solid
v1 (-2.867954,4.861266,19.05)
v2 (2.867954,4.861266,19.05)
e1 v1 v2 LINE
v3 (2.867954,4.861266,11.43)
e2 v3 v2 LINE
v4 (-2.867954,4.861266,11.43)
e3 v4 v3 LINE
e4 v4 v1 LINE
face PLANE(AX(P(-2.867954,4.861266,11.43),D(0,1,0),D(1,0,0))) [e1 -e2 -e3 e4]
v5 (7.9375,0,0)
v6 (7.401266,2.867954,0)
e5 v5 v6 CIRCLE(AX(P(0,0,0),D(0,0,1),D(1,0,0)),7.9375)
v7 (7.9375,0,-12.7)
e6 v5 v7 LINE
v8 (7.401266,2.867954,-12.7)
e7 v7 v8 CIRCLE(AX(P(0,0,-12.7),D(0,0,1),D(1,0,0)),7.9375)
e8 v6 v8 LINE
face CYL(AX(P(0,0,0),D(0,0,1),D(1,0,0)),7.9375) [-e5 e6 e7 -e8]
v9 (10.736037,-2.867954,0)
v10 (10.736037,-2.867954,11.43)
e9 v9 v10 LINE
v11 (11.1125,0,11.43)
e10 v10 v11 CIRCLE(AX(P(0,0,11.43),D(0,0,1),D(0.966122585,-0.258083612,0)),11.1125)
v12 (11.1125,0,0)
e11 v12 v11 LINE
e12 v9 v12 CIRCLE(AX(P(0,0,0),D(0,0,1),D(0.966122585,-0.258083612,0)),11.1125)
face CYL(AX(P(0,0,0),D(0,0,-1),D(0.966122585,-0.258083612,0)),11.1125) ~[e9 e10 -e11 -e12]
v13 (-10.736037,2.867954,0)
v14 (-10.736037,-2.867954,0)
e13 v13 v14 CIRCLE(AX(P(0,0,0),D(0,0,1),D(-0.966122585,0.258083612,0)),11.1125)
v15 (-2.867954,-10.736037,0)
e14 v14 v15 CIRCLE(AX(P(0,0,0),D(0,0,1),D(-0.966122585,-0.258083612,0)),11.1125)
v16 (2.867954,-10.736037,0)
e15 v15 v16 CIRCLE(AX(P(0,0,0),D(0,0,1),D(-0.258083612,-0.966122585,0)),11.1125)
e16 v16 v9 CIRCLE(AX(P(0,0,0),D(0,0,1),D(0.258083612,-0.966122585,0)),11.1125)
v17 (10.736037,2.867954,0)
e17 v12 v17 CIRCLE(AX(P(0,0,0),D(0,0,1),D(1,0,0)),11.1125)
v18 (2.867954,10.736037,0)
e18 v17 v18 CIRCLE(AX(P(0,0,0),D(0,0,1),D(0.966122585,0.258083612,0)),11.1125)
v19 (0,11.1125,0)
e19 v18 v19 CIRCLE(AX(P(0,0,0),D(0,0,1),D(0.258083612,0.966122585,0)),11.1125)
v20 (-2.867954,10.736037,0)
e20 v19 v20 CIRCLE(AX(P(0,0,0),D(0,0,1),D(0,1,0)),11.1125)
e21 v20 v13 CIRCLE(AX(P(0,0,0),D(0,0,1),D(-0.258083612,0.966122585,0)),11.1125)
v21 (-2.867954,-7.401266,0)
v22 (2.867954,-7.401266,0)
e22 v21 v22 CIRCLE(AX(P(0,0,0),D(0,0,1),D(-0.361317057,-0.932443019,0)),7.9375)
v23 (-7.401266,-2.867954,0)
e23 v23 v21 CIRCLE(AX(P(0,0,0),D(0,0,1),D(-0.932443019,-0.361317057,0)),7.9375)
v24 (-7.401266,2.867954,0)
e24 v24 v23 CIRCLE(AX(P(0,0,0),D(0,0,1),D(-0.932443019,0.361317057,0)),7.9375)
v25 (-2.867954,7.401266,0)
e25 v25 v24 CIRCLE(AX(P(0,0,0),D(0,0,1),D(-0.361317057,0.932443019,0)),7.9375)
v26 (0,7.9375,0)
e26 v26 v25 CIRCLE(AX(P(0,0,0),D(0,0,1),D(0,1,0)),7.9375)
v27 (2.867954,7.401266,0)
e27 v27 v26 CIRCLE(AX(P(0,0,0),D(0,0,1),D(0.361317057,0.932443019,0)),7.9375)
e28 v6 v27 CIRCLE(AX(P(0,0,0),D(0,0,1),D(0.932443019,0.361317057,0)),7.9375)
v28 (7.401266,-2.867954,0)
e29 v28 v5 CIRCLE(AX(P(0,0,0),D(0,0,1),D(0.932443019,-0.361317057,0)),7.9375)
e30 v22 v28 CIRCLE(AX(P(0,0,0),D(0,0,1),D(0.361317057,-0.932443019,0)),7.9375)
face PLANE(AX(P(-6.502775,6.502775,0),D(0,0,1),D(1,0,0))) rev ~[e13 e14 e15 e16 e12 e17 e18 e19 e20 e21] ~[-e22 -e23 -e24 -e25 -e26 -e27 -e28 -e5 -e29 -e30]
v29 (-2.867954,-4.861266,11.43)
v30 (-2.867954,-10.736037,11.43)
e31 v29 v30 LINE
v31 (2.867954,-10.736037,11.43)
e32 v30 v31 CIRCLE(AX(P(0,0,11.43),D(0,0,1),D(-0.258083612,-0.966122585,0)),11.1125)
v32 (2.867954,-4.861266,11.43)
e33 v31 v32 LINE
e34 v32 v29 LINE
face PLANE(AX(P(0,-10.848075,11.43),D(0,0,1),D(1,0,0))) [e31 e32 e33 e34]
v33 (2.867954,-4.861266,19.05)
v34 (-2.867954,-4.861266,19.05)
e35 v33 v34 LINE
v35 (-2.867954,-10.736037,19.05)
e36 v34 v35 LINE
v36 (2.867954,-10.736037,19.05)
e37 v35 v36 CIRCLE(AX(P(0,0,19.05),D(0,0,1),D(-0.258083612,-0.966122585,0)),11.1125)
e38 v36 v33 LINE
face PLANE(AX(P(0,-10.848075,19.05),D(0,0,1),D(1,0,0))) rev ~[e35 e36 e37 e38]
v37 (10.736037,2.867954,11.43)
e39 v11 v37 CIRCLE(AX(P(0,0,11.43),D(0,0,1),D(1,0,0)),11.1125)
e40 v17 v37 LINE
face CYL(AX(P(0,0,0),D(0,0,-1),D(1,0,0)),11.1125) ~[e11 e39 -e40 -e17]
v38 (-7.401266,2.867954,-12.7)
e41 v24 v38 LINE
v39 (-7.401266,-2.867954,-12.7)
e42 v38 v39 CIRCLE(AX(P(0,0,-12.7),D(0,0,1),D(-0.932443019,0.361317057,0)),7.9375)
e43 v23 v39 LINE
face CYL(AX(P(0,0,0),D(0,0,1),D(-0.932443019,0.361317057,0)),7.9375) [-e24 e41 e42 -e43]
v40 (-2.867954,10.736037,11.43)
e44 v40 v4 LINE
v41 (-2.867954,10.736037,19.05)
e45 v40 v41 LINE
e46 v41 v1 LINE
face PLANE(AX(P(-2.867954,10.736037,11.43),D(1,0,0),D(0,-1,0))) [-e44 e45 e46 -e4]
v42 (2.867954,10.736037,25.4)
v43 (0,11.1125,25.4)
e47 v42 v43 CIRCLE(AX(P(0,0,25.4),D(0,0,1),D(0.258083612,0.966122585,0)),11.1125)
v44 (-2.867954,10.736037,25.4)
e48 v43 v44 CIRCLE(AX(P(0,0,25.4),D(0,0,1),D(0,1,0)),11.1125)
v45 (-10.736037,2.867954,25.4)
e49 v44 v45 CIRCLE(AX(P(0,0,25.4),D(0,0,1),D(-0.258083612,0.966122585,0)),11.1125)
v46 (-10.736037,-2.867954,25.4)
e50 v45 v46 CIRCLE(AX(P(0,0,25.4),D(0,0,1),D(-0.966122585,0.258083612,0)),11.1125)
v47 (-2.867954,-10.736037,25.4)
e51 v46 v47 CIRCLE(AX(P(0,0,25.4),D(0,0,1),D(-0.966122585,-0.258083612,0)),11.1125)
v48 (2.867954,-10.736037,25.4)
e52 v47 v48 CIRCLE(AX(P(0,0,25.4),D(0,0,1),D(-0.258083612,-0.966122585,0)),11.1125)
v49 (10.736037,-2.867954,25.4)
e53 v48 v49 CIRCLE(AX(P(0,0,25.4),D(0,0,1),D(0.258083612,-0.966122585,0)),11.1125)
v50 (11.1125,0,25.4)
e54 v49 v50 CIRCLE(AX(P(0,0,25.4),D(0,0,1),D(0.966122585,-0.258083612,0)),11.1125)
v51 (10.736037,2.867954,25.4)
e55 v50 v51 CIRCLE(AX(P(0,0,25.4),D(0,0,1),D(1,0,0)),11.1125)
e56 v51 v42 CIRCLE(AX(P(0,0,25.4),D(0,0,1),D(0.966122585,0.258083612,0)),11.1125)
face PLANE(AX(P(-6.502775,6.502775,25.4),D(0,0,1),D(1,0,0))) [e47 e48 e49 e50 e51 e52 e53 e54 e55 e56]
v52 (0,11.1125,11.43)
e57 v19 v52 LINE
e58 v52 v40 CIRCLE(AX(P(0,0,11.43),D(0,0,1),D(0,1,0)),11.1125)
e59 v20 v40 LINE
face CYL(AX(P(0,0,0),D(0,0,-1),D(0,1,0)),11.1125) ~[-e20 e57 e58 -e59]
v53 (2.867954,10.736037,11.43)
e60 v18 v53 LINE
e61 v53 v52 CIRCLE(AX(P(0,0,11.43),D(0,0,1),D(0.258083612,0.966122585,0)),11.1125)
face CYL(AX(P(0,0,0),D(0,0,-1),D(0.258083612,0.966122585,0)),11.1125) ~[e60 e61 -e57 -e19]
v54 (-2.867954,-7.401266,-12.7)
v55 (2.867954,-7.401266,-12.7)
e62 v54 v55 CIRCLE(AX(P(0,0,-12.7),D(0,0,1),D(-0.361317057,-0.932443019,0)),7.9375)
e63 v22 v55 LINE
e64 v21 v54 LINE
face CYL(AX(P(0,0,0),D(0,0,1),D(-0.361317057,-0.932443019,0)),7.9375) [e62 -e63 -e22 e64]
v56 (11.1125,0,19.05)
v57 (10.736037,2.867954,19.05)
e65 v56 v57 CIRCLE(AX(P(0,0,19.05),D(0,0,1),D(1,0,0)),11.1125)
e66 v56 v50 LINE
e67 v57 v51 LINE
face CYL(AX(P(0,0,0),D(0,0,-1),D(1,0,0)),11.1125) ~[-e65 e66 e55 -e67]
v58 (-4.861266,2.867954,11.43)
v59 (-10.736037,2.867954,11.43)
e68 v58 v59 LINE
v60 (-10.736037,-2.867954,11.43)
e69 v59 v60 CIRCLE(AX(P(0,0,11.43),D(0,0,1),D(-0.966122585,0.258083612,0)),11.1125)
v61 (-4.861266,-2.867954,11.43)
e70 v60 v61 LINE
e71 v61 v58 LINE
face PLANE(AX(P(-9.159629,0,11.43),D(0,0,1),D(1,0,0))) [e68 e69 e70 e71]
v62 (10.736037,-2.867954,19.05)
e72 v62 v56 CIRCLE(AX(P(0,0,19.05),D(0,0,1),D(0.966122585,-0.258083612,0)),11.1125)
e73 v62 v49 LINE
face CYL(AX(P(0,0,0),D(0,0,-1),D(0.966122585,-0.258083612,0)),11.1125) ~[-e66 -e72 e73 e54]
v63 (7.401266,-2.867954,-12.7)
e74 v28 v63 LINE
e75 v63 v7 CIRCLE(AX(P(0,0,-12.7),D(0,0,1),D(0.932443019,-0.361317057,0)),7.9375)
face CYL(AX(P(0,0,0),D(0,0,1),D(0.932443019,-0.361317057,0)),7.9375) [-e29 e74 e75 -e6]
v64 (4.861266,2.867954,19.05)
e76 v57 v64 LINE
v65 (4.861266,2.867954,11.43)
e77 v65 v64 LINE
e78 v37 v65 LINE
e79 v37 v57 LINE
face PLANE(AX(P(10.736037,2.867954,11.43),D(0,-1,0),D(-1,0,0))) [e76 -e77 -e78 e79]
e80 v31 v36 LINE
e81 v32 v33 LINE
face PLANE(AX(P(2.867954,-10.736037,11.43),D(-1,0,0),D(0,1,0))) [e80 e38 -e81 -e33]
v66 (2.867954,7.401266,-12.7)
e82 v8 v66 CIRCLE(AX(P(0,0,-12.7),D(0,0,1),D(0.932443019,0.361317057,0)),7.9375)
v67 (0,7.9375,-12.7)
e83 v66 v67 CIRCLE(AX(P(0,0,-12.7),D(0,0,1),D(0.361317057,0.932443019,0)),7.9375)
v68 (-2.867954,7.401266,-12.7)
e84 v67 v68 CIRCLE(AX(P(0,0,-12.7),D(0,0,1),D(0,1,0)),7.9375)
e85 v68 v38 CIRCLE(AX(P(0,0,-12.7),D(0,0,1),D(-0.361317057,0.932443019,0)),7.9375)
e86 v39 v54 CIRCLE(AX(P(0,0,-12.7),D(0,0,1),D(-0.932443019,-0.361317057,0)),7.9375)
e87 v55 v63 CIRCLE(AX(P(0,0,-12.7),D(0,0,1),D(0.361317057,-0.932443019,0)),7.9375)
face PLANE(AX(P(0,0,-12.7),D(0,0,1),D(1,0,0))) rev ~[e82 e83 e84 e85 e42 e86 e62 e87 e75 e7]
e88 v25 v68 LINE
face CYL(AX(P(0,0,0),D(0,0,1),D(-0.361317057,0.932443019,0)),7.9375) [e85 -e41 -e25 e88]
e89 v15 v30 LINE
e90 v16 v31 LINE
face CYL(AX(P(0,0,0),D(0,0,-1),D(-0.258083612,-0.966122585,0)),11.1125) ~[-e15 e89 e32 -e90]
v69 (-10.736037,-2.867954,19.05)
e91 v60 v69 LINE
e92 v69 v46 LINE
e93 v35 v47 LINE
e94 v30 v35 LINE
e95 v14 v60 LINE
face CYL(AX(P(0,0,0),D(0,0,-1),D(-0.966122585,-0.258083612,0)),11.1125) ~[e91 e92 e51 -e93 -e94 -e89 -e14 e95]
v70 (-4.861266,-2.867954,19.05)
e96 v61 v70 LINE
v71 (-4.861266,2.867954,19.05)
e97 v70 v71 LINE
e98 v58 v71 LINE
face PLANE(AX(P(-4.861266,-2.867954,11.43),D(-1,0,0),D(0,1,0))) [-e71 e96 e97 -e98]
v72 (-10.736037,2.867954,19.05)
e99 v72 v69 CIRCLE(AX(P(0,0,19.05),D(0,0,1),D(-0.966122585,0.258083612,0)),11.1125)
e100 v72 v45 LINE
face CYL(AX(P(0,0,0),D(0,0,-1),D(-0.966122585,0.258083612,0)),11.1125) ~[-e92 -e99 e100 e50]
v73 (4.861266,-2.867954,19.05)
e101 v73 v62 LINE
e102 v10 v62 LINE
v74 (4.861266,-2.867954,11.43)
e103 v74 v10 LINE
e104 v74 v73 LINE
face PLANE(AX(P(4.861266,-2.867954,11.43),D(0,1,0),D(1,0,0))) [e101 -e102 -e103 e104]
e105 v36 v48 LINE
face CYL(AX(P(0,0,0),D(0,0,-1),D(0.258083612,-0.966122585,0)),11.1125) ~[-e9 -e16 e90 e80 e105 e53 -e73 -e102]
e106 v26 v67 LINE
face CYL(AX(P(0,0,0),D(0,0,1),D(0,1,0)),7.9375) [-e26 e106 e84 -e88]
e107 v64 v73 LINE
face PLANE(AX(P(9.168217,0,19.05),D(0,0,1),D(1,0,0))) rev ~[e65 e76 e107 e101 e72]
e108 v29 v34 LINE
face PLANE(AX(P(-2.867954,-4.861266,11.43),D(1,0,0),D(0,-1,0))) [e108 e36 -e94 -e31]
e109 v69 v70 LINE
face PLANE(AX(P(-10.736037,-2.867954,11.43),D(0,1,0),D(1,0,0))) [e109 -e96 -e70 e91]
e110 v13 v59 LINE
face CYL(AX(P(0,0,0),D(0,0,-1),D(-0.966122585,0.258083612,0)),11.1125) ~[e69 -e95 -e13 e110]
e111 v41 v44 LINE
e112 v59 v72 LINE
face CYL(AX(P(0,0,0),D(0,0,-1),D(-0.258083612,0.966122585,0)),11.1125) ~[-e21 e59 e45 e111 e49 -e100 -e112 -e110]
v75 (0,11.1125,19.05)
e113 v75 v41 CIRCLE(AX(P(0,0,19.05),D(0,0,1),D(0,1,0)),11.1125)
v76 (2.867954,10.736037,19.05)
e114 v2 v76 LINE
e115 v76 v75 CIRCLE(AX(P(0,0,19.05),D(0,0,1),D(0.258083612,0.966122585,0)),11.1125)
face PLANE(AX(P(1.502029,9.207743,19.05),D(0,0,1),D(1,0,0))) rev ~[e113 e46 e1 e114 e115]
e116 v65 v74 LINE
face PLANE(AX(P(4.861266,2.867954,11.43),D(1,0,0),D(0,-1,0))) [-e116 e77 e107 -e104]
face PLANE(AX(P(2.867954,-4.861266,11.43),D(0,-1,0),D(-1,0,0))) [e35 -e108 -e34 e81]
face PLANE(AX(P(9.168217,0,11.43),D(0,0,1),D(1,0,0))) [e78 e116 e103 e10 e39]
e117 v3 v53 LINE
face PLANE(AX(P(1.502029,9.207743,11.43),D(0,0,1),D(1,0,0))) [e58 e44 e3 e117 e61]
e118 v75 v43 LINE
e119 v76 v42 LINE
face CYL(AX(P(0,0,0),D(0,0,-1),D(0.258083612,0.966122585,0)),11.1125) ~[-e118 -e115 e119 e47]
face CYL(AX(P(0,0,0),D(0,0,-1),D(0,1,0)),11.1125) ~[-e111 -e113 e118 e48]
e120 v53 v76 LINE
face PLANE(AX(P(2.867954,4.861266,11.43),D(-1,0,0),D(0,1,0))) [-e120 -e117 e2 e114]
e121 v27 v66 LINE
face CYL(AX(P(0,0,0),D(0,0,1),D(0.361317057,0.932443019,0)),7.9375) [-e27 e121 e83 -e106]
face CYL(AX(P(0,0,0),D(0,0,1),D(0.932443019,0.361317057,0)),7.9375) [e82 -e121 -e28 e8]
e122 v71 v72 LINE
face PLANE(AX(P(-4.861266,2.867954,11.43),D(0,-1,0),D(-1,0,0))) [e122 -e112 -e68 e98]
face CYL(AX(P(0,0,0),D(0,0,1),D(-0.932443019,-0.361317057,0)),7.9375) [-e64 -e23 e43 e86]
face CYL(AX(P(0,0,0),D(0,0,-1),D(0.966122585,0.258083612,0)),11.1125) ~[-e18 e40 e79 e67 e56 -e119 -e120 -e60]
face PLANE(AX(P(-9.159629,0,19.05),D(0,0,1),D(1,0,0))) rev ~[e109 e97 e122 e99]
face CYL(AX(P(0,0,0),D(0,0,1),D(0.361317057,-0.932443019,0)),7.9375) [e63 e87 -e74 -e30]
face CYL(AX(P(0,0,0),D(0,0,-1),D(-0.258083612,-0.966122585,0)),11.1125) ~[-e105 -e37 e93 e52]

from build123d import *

# Parameters (mm, degrees)
F1_DEPTH = 25.4
F2_START = 11.43
F2_DEPTH = 7.62
F3_DEPTH = 12.7


with BuildPart() as f1:
    # F0 (on Top) → F1 (new body)
    with BuildSketch(Plane.XY):
        with BuildLine():
            ThreePointArc((-7.4012664662, 2.8679541395), (-5.6126600757, 5.6126600757), (-2.8679541395, 7.4012664662))
            Line((-2.8679541395, 7.4012664662), (-2.8679541395, 10.7360372253))
            ThreePointArc((-2.8679541395, 10.7360372253), (-7.8577241059, 7.8577241059), (-10.7360372253, 2.8679541395))
            Line((-10.7360372253, 2.8679541395), (-7.4012664662, 2.8679541395))
        make_face()
        with BuildLine():
            ThreePointArc((2.8679541395, 7.4012664662), (5.6126600757, 5.6126600757), (7.4012664662, 2.8679541395))
            Line((7.4012664662, 2.8679541395), (10.7360372253, 2.8679541395))
            ThreePointArc((10.7360372253, 2.8679541395), (7.8577241059, 7.8577241059), (2.8679541395, 10.7360372253))
            Line((2.8679541395, 10.7360372253), (2.8679541395, 7.4012664662))
        make_face()
        with BuildLine():
            Line((10.7360372253, -2.8679541395), (7.4012664662, -2.8679541395))
            ThreePointArc((7.4012664662, -2.8679541395), (5.6126600757, -5.6126600757), (2.8679541395, -7.4012664662))
            Line((2.8679541395, -7.4012664662), (2.8679541395, -10.7360372253))
            ThreePointArc((2.8679541395, -10.7360372253), (7.8577241059, -7.8577241059), (10.7360372253, -2.8679541395))
        make_face()
        with BuildLine():
            Line((-2.8679541395, -10.7360372253), (-2.8679541395, -7.4012664662))
            ThreePointArc((-2.8679541395, -7.4012664662), (-5.6126600757, -5.6126600757), (-7.4012664662, -2.8679541395))
            Line((-7.4012664662, -2.8679541395), (-10.7360372253, -2.8679541395))
            ThreePointArc((-10.7360372253, -2.8679541395), (-7.8577241059, -7.8577241059), (-2.8679541395, -10.7360372253))
        make_face()
        with BuildLine():
            ThreePointArc((-10.7360372253, 2.8679541395), (-11.1125, 0), (-10.7360372253, -2.8679541395))
            Line((-10.7360372253, -2.8679541395), (-10.7360372253, 2.8679541395))
        make_face()
        with BuildLine():
            Line((-10.7360372253, -2.8679541395), (-7.4012664662, -2.8679541395))
            ThreePointArc((-7.4012664662, -2.8679541395), (-7.9375, 0), (-7.4012664662, 2.8679541395))
            Line((-7.4012664662, 2.8679541395), (-10.7360372253, 2.8679541395))
            Line((-10.7360372253, 2.8679541395), (-10.7360372253, -2.8679541395))
        make_face()
        with BuildLine():
            ThreePointArc((-2.8679541395, 7.4012664662), (-1.458827213, 7.8022900108), (0, 7.9375))
            Line((0, 7.9375), (0, 10.7360372253))
            Line((0, 10.7360372253), (-2.8679541395, 10.7360372253))
            Line((-2.8679541395, 10.7360372253), (-2.8679541395, 7.4012664662))
        make_face()
        with BuildLine():
            ThreePointArc((0, 7.9375), (1.458827213, 7.8022900108), (2.8679541395, 7.4012664662))
            Line((2.8679541395, 7.4012664662), (2.8679541395, 10.7360372253))
            Line((2.8679541395, 10.7360372253), (0, 10.7360372253))
            Line((0, 10.7360372253), (0, 7.9375))
        make_face()
        with BuildLine():
            Line((0, 10.7360372253), (2.8679541395, 10.7360372253))
            ThreePointArc((2.8679541395, 10.7360372253), (1.4462784282, 11.0179823452), (0, 11.1125))
            Line((0, 11.1125), (0, 10.7360372253))
        make_face()
        with BuildLine():
            Line((-2.8679541395, 10.7360372253), (0, 10.7360372253))
            Line((0, 10.7360372253), (0, 11.1125))
            ThreePointArc((0, 11.1125), (-1.4462784282, 11.0179823452), (-2.8679541395, 10.7360372253))
        make_face()
        with BuildLine():
            ThreePointArc((7.4012664662, 2.8679541395), (7.8022900108, 1.458827213), (7.9375, 0))
            ThreePointArc((7.9375, 0), (7.8022900108, -1.458827213), (7.4012664662, -2.8679541395))
            Line((7.4012664662, -2.8679541395), (10.7360372253, -2.8679541395))
            Line((10.7360372253, -2.8679541395), (10.7360372253, 2.8679541395))
            Line((10.7360372253, 2.8679541395), (7.4012664662, 2.8679541395))
        make_face()
        with BuildLine():
            ThreePointArc((11.1125, 0), (11.0179823452, 1.4462784282), (10.7360372253, 2.8679541395))
            Line((10.7360372253, 2.8679541395), (10.7360372253, -2.8679541395))
            ThreePointArc((10.7360372253, -2.8679541395), (11.0179823452, -1.4462784282), (11.1125, 0))
        make_face()
        with BuildLine():
            Line((2.8679541395, -10.7360372253), (2.8679541395, -7.4012664662))
            ThreePointArc((2.8679541395, -7.4012664662), (0, -7.9375), (-2.8679541395, -7.4012664662))
            Line((-2.8679541395, -7.4012664662), (-2.8679541395, -10.7360372253))
            Line((-2.8679541395, -10.7360372253), (2.8679541395, -10.7360372253))
        make_face()
        with BuildLine():
            ThreePointArc((-2.8679541395, -10.7360372253), (0, -11.1125), (2.8679541395, -10.7360372253))
            Line((2.8679541395, -10.7360372253), (-2.8679541395, -10.7360372253))
        make_face()
        with BuildLine():
            Line((4.8612664662, 2.8679541395), (7.4012664662, 2.8679541395))
            ThreePointArc((7.4012664662, 2.8679541395), (5.6126600757, 5.6126600757), (2.8679541395, 7.4012664662))
            Line((2.8679541395, 7.4012664662), (2.8679541395, 4.8612664662))
            Line((2.8679541395, 4.8612664662), (0, 4.8612664662))
            Line((0, 4.8612664662), (-2.8679541395, 4.8612664662))
            Line((-2.8679541395, 4.8612664662), (-2.8679541395, 7.4012664662))
            ThreePointArc((-2.8679541395, 7.4012664662), (-5.6126600757, 5.6126600757), (-7.4012664662, 2.8679541395))
            Line((-7.4012664662, 2.8679541395), (-4.8612664662, 2.8679541395))
            Line((-4.8612664662, 2.8679541395), (-4.8612664662, -2.8679541395))
            Line((-4.8612664662, -2.8679541395), (-7.4012664662, -2.8679541395))
            ThreePointArc((-7.4012664662, -2.8679541395), (-5.6126600757, -5.6126600757), (-2.8679541395, -7.4012664662))
            Line((-2.8679541395, -7.4012664662), (-2.8679541395, -4.8612664662))
            Line((-2.8679541395, -4.8612664662), (2.8679541395, -4.8612664662))
            Line((2.8679541395, -4.8612664662), (2.8679541395, -7.4012664662))
            ThreePointArc((2.8679541395, -7.4012664662), (5.6126600757, -5.6126600757), (7.4012664662, -2.8679541395))
            Line((7.4012664662, -2.8679541395), (4.8612664662, -2.8679541395))
            Line((4.8612664662, -2.8679541395), (4.8612664662, 2.8679541395))
        make_face()
        with BuildLine():
            ThreePointArc((7.4012664662, -2.8679541395), (7.8022900108, -1.458827213), (7.9375, 0))
            ThreePointArc((7.9375, 0), (7.8022900108, 1.458827213), (7.4012664662, 2.8679541395))
            Line((7.4012664662, 2.8679541395), (4.8612664662, 2.8679541395))
            Line((4.8612664662, 2.8679541395), (4.8612664662, -2.8679541395))
            Line((4.8612664662, -2.8679541395), (7.4012664662, -2.8679541395))
        make_face()
        with BuildLine():
            Line((0, 4.8612664662), (0, 7.9375))
            ThreePointArc((0, 7.9375), (-1.458827213, 7.8022900108), (-2.8679541395, 7.4012664662))
            Line((-2.8679541395, 7.4012664662), (-2.8679541395, 4.8612664662))
            Line((-2.8679541395, 4.8612664662), (0, 4.8612664662))
        make_face()
        with BuildLine():
            ThreePointArc((-7.4012664662, 2.8679541395), (-7.9375, 0), (-7.4012664662, -2.8679541395))
            Line((-7.4012664662, -2.8679541395), (-4.8612664662, -2.8679541395))
            Line((-4.8612664662, -2.8679541395), (-4.8612664662, 2.8679541395))
            Line((-4.8612664662, 2.8679541395), (-7.4012664662, 2.8679541395))
        make_face()
        with BuildLine():
            Line((2.8679541395, 4.8612664662), (2.8679541395, 7.4012664662))
            ThreePointArc((2.8679541395, 7.4012664662), (1.458827213, 7.8022900108), (0, 7.9375))
            Line((0, 7.9375), (0, 4.8612664662))
            Line((0, 4.8612664662), (2.8679541395, 4.8612664662))
        make_face()
        with BuildLine():
            ThreePointArc((-2.8679541395, -7.4012664662), (0, -7.9375), (2.8679541395, -7.4012664662))
            Line((2.8679541395, -7.4012664662), (2.8679541395, -4.8612664662))
            Line((2.8679541395, -4.8612664662), (-2.8679541395, -4.8612664662))
            Line((-2.8679541395, -4.8612664662), (-2.8679541395, -7.4012664662))
        make_face()
    extrude(amount=F1_DEPTH)

    # F0 (on Top) → F2 (cut)
    with BuildSketch(Plane.XY.offset(F2_START)):
        with BuildLine():
            ThreePointArc((-2.8679541395, -10.7360372253), (0, -11.1125), (2.8679541395, -10.7360372253))
            Line((2.8679541395, -10.7360372253), (-2.8679541395, -10.7360372253))
        make_face()
        with BuildLine():
            Line((2.8679541395, -10.7360372253), (2.8679541395, -7.4012664662))
            ThreePointArc((2.8679541395, -7.4012664662), (0, -7.9375), (-2.8679541395, -7.4012664662))
            Line((-2.8679541395, -7.4012664662), (-2.8679541395, -10.7360372253))
            Line((-2.8679541395, -10.7360372253), (2.8679541395, -10.7360372253))
        make_face()
        with BuildLine():
            Line((-10.7360372253, -2.8679541395), (-7.4012664662, -2.8679541395))
            ThreePointArc((-7.4012664662, -2.8679541395), (-7.9375, 0), (-7.4012664662, 2.8679541395))
            Line((-7.4012664662, 2.8679541395), (-10.7360372253, 2.8679541395))
            Line((-10.7360372253, 2.8679541395), (-10.7360372253, -2.8679541395))
        make_face()
        with BuildLine():
            ThreePointArc((-10.7360372253, 2.8679541395), (-11.1125, 0), (-10.7360372253, -2.8679541395))
            Line((-10.7360372253, -2.8679541395), (-10.7360372253, 2.8679541395))
        make_face()
        with BuildLine():
            ThreePointArc((7.4012664662, 2.8679541395), (7.8022900108, 1.458827213), (7.9375, 0))
            ThreePointArc((7.9375, 0), (7.8022900108, -1.458827213), (7.4012664662, -2.8679541395))
            Line((7.4012664662, -2.8679541395), (10.7360372253, -2.8679541395))
            Line((10.7360372253, -2.8679541395), (10.7360372253, 2.8679541395))
            Line((10.7360372253, 2.8679541395), (7.4012664662, 2.8679541395))
        make_face()
        with BuildLine():
            ThreePointArc((11.1125, 0), (11.0179823452, 1.4462784282), (10.7360372253, 2.8679541395))
            Line((10.7360372253, 2.8679541395), (10.7360372253, -2.8679541395))
            ThreePointArc((10.7360372253, -2.8679541395), (11.0179823452, -1.4462784282), (11.1125, 0))
        make_face()
        with BuildLine():
            ThreePointArc((0, 7.9375), (1.458827213, 7.8022900108), (2.8679541395, 7.4012664662))
            Line((2.8679541395, 7.4012664662), (2.8679541395, 10.7360372253))
            Line((2.8679541395, 10.7360372253), (0, 10.7360372253))
            Line((0, 10.7360372253), (0, 7.9375))
        make_face()
        with BuildLine():
            Line((0, 10.7360372253), (2.8679541395, 10.7360372253))
            ThreePointArc((2.8679541395, 10.7360372253), (1.4462784282, 11.0179823452), (0, 11.1125))
            Line((0, 11.1125), (0, 10.7360372253))
        make_face()
        with BuildLine():
            ThreePointArc((-2.8679541395, 7.4012664662), (-1.458827213, 7.8022900108), (0, 7.9375))
            Line((0, 7.9375), (0, 10.7360372253))
            Line((0, 10.7360372253), (-2.8679541395, 10.7360372253))
            Line((-2.8679541395, 10.7360372253), (-2.8679541395, 7.4012664662))
        make_face()
        with BuildLine():
            Line((-2.8679541395, 10.7360372253), (0, 10.7360372253))
            Line((0, 10.7360372253), (0, 11.1125))
            ThreePointArc((0, 11.1125), (-1.4462784282, 11.0179823452), (-2.8679541395, 10.7360372253))
        make_face()
        with BuildLine():
            ThreePointArc((-2.8679541395, -7.4012664662), (0, -7.9375), (2.8679541395, -7.4012664662))
            Line((2.8679541395, -7.4012664662), (2.8679541395, -4.8612664662))
            Line((2.8679541395, -4.8612664662), (-2.8679541395, -4.8612664662))
            Line((-2.8679541395, -4.8612664662), (-2.8679541395, -7.4012664662))
        make_face()
        with BuildLine():
            ThreePointArc((-7.4012664662, 2.8679541395), (-7.9375, 0), (-7.4012664662, -2.8679541395))
            Line((-7.4012664662, -2.8679541395), (-4.8612664662, -2.8679541395))
            Line((-4.8612664662, -2.8679541395), (-4.8612664662, 2.8679541395))
            Line((-4.8612664662, 2.8679541395), (-7.4012664662, 2.8679541395))
        make_face()
        with BuildLine():
            Line((0, 4.8612664662), (0, 7.9375))
            ThreePointArc((0, 7.9375), (-1.458827213, 7.8022900108), (-2.8679541395, 7.4012664662))
            Line((-2.8679541395, 7.4012664662), (-2.8679541395, 4.8612664662))
            Line((-2.8679541395, 4.8612664662), (0, 4.8612664662))
        make_face()
        with BuildLine():
            Line((2.8679541395, 4.8612664662), (2.8679541395, 7.4012664662))
            ThreePointArc((2.8679541395, 7.4012664662), (1.458827213, 7.8022900108), (0, 7.9375))
            Line((0, 7.9375), (0, 4.8612664662))
            Line((0, 4.8612664662), (2.8679541395, 4.8612664662))
        make_face()
        with BuildLine():
            ThreePointArc((7.4012664662, -2.8679541395), (7.8022900108, -1.458827213), (7.9375, 0))
            ThreePointArc((7.9375, 0), (7.8022900108, 1.458827213), (7.4012664662, 2.8679541395))
            Line((7.4012664662, 2.8679541395), (4.8612664662, 2.8679541395))
            Line((4.8612664662, 2.8679541395), (4.8612664662, -2.8679541395))
            Line((4.8612664662, -2.8679541395), (7.4012664662, -2.8679541395))
        make_face()
    extrude(amount=F2_DEPTH, mode=Mode.SUBTRACT)

    # F0 (on Top) → F3 (join)
    with BuildSketch(Plane.XY):
        with BuildLine():
            Line((4.8612664662, 2.8679541395), (7.4012664662, 2.8679541395))
            ThreePointArc((7.4012664662, 2.8679541395), (5.6126600757, 5.6126600757), (2.8679541395, 7.4012664662))
            Line((2.8679541395, 7.4012664662), (2.8679541395, 4.8612664662))
            Line((2.8679541395, 4.8612664662), (0, 4.8612664662))
            Line((0, 4.8612664662), (-2.8679541395, 4.8612664662))
            Line((-2.8679541395, 4.8612664662), (-2.8679541395, 7.4012664662))
            ThreePointArc((-2.8679541395, 7.4012664662), (-5.6126600757, 5.6126600757), (-7.4012664662, 2.8679541395))
            Line((-7.4012664662, 2.8679541395), (-4.8612664662, 2.8679541395))
            Line((-4.8612664662, 2.8679541395), (-4.8612664662, -2.8679541395))
            Line((-4.8612664662, -2.8679541395), (-7.4012664662, -2.8679541395))
            ThreePointArc((-7.4012664662, -2.8679541395), (-5.6126600757, -5.6126600757), (-2.8679541395, -7.4012664662))
            Line((-2.8679541395, -7.4012664662), (-2.8679541395, -4.8612664662))
            Line((-2.8679541395, -4.8612664662), (2.8679541395, -4.8612664662))
            Line((2.8679541395, -4.8612664662), (2.8679541395, -7.4012664662))
            ThreePointArc((2.8679541395, -7.4012664662), (5.6126600757, -5.6126600757), (7.4012664662, -2.8679541395))
            Line((7.4012664662, -2.8679541395), (4.8612664662, -2.8679541395))
            Line((4.8612664662, -2.8679541395), (4.8612664662, 2.8679541395))
        make_face()
        with BuildLine():
            ThreePointArc((-2.8679541395, -7.4012664662), (0, -7.9375), (2.8679541395, -7.4012664662))
            Line((2.8679541395, -7.4012664662), (2.8679541395, -4.8612664662))
            Line((2.8679541395, -4.8612664662), (-2.8679541395, -4.8612664662))
            Line((-2.8679541395, -4.8612664662), (-2.8679541395, -7.4012664662))
        make_face()
        with BuildLine():
            ThreePointArc((7.4012664662, -2.8679541395), (7.8022900108, -1.458827213), (7.9375, 0))
            ThreePointArc((7.9375, 0), (7.8022900108, 1.458827213), (7.4012664662, 2.8679541395))
            Line((7.4012664662, 2.8679541395), (4.8612664662, 2.8679541395))
            Line((4.8612664662, 2.8679541395), (4.8612664662, -2.8679541395))
            Line((4.8612664662, -2.8679541395), (7.4012664662, -2.8679541395))
        make_face()
        with BuildLine():
            Line((2.8679541395, 4.8612664662), (2.8679541395, 7.4012664662))
            ThreePointArc((2.8679541395, 7.4012664662), (1.458827213, 7.8022900108), (0, 7.9375))
            Line((0, 7.9375), (0, 4.8612664662))
            Line((0, 4.8612664662), (2.8679541395, 4.8612664662))
        make_face()
        with BuildLine():
            Line((0, 4.8612664662), (0, 7.9375))
            ThreePointArc((0, 7.9375), (-1.458827213, 7.8022900108), (-2.8679541395, 7.4012664662))
            Line((-2.8679541395, 7.4012664662), (-2.8679541395, 4.8612664662))
            Line((-2.8679541395, 4.8612664662), (0, 4.8612664662))
        make_face()
        with BuildLine():
            ThreePointArc((-7.4012664662, 2.8679541395), (-7.9375, 0), (-7.4012664662, -2.8679541395))
            Line((-7.4012664662, -2.8679541395), (-4.8612664662, -2.8679541395))
            Line((-4.8612664662, -2.8679541395), (-4.8612664662, 2.8679541395))
            Line((-4.8612664662, 2.8679541395), (-7.4012664662, 2.8679541395))
        make_face()
    extrude(amount=-F3_DEPTH)


solid = f1.part
